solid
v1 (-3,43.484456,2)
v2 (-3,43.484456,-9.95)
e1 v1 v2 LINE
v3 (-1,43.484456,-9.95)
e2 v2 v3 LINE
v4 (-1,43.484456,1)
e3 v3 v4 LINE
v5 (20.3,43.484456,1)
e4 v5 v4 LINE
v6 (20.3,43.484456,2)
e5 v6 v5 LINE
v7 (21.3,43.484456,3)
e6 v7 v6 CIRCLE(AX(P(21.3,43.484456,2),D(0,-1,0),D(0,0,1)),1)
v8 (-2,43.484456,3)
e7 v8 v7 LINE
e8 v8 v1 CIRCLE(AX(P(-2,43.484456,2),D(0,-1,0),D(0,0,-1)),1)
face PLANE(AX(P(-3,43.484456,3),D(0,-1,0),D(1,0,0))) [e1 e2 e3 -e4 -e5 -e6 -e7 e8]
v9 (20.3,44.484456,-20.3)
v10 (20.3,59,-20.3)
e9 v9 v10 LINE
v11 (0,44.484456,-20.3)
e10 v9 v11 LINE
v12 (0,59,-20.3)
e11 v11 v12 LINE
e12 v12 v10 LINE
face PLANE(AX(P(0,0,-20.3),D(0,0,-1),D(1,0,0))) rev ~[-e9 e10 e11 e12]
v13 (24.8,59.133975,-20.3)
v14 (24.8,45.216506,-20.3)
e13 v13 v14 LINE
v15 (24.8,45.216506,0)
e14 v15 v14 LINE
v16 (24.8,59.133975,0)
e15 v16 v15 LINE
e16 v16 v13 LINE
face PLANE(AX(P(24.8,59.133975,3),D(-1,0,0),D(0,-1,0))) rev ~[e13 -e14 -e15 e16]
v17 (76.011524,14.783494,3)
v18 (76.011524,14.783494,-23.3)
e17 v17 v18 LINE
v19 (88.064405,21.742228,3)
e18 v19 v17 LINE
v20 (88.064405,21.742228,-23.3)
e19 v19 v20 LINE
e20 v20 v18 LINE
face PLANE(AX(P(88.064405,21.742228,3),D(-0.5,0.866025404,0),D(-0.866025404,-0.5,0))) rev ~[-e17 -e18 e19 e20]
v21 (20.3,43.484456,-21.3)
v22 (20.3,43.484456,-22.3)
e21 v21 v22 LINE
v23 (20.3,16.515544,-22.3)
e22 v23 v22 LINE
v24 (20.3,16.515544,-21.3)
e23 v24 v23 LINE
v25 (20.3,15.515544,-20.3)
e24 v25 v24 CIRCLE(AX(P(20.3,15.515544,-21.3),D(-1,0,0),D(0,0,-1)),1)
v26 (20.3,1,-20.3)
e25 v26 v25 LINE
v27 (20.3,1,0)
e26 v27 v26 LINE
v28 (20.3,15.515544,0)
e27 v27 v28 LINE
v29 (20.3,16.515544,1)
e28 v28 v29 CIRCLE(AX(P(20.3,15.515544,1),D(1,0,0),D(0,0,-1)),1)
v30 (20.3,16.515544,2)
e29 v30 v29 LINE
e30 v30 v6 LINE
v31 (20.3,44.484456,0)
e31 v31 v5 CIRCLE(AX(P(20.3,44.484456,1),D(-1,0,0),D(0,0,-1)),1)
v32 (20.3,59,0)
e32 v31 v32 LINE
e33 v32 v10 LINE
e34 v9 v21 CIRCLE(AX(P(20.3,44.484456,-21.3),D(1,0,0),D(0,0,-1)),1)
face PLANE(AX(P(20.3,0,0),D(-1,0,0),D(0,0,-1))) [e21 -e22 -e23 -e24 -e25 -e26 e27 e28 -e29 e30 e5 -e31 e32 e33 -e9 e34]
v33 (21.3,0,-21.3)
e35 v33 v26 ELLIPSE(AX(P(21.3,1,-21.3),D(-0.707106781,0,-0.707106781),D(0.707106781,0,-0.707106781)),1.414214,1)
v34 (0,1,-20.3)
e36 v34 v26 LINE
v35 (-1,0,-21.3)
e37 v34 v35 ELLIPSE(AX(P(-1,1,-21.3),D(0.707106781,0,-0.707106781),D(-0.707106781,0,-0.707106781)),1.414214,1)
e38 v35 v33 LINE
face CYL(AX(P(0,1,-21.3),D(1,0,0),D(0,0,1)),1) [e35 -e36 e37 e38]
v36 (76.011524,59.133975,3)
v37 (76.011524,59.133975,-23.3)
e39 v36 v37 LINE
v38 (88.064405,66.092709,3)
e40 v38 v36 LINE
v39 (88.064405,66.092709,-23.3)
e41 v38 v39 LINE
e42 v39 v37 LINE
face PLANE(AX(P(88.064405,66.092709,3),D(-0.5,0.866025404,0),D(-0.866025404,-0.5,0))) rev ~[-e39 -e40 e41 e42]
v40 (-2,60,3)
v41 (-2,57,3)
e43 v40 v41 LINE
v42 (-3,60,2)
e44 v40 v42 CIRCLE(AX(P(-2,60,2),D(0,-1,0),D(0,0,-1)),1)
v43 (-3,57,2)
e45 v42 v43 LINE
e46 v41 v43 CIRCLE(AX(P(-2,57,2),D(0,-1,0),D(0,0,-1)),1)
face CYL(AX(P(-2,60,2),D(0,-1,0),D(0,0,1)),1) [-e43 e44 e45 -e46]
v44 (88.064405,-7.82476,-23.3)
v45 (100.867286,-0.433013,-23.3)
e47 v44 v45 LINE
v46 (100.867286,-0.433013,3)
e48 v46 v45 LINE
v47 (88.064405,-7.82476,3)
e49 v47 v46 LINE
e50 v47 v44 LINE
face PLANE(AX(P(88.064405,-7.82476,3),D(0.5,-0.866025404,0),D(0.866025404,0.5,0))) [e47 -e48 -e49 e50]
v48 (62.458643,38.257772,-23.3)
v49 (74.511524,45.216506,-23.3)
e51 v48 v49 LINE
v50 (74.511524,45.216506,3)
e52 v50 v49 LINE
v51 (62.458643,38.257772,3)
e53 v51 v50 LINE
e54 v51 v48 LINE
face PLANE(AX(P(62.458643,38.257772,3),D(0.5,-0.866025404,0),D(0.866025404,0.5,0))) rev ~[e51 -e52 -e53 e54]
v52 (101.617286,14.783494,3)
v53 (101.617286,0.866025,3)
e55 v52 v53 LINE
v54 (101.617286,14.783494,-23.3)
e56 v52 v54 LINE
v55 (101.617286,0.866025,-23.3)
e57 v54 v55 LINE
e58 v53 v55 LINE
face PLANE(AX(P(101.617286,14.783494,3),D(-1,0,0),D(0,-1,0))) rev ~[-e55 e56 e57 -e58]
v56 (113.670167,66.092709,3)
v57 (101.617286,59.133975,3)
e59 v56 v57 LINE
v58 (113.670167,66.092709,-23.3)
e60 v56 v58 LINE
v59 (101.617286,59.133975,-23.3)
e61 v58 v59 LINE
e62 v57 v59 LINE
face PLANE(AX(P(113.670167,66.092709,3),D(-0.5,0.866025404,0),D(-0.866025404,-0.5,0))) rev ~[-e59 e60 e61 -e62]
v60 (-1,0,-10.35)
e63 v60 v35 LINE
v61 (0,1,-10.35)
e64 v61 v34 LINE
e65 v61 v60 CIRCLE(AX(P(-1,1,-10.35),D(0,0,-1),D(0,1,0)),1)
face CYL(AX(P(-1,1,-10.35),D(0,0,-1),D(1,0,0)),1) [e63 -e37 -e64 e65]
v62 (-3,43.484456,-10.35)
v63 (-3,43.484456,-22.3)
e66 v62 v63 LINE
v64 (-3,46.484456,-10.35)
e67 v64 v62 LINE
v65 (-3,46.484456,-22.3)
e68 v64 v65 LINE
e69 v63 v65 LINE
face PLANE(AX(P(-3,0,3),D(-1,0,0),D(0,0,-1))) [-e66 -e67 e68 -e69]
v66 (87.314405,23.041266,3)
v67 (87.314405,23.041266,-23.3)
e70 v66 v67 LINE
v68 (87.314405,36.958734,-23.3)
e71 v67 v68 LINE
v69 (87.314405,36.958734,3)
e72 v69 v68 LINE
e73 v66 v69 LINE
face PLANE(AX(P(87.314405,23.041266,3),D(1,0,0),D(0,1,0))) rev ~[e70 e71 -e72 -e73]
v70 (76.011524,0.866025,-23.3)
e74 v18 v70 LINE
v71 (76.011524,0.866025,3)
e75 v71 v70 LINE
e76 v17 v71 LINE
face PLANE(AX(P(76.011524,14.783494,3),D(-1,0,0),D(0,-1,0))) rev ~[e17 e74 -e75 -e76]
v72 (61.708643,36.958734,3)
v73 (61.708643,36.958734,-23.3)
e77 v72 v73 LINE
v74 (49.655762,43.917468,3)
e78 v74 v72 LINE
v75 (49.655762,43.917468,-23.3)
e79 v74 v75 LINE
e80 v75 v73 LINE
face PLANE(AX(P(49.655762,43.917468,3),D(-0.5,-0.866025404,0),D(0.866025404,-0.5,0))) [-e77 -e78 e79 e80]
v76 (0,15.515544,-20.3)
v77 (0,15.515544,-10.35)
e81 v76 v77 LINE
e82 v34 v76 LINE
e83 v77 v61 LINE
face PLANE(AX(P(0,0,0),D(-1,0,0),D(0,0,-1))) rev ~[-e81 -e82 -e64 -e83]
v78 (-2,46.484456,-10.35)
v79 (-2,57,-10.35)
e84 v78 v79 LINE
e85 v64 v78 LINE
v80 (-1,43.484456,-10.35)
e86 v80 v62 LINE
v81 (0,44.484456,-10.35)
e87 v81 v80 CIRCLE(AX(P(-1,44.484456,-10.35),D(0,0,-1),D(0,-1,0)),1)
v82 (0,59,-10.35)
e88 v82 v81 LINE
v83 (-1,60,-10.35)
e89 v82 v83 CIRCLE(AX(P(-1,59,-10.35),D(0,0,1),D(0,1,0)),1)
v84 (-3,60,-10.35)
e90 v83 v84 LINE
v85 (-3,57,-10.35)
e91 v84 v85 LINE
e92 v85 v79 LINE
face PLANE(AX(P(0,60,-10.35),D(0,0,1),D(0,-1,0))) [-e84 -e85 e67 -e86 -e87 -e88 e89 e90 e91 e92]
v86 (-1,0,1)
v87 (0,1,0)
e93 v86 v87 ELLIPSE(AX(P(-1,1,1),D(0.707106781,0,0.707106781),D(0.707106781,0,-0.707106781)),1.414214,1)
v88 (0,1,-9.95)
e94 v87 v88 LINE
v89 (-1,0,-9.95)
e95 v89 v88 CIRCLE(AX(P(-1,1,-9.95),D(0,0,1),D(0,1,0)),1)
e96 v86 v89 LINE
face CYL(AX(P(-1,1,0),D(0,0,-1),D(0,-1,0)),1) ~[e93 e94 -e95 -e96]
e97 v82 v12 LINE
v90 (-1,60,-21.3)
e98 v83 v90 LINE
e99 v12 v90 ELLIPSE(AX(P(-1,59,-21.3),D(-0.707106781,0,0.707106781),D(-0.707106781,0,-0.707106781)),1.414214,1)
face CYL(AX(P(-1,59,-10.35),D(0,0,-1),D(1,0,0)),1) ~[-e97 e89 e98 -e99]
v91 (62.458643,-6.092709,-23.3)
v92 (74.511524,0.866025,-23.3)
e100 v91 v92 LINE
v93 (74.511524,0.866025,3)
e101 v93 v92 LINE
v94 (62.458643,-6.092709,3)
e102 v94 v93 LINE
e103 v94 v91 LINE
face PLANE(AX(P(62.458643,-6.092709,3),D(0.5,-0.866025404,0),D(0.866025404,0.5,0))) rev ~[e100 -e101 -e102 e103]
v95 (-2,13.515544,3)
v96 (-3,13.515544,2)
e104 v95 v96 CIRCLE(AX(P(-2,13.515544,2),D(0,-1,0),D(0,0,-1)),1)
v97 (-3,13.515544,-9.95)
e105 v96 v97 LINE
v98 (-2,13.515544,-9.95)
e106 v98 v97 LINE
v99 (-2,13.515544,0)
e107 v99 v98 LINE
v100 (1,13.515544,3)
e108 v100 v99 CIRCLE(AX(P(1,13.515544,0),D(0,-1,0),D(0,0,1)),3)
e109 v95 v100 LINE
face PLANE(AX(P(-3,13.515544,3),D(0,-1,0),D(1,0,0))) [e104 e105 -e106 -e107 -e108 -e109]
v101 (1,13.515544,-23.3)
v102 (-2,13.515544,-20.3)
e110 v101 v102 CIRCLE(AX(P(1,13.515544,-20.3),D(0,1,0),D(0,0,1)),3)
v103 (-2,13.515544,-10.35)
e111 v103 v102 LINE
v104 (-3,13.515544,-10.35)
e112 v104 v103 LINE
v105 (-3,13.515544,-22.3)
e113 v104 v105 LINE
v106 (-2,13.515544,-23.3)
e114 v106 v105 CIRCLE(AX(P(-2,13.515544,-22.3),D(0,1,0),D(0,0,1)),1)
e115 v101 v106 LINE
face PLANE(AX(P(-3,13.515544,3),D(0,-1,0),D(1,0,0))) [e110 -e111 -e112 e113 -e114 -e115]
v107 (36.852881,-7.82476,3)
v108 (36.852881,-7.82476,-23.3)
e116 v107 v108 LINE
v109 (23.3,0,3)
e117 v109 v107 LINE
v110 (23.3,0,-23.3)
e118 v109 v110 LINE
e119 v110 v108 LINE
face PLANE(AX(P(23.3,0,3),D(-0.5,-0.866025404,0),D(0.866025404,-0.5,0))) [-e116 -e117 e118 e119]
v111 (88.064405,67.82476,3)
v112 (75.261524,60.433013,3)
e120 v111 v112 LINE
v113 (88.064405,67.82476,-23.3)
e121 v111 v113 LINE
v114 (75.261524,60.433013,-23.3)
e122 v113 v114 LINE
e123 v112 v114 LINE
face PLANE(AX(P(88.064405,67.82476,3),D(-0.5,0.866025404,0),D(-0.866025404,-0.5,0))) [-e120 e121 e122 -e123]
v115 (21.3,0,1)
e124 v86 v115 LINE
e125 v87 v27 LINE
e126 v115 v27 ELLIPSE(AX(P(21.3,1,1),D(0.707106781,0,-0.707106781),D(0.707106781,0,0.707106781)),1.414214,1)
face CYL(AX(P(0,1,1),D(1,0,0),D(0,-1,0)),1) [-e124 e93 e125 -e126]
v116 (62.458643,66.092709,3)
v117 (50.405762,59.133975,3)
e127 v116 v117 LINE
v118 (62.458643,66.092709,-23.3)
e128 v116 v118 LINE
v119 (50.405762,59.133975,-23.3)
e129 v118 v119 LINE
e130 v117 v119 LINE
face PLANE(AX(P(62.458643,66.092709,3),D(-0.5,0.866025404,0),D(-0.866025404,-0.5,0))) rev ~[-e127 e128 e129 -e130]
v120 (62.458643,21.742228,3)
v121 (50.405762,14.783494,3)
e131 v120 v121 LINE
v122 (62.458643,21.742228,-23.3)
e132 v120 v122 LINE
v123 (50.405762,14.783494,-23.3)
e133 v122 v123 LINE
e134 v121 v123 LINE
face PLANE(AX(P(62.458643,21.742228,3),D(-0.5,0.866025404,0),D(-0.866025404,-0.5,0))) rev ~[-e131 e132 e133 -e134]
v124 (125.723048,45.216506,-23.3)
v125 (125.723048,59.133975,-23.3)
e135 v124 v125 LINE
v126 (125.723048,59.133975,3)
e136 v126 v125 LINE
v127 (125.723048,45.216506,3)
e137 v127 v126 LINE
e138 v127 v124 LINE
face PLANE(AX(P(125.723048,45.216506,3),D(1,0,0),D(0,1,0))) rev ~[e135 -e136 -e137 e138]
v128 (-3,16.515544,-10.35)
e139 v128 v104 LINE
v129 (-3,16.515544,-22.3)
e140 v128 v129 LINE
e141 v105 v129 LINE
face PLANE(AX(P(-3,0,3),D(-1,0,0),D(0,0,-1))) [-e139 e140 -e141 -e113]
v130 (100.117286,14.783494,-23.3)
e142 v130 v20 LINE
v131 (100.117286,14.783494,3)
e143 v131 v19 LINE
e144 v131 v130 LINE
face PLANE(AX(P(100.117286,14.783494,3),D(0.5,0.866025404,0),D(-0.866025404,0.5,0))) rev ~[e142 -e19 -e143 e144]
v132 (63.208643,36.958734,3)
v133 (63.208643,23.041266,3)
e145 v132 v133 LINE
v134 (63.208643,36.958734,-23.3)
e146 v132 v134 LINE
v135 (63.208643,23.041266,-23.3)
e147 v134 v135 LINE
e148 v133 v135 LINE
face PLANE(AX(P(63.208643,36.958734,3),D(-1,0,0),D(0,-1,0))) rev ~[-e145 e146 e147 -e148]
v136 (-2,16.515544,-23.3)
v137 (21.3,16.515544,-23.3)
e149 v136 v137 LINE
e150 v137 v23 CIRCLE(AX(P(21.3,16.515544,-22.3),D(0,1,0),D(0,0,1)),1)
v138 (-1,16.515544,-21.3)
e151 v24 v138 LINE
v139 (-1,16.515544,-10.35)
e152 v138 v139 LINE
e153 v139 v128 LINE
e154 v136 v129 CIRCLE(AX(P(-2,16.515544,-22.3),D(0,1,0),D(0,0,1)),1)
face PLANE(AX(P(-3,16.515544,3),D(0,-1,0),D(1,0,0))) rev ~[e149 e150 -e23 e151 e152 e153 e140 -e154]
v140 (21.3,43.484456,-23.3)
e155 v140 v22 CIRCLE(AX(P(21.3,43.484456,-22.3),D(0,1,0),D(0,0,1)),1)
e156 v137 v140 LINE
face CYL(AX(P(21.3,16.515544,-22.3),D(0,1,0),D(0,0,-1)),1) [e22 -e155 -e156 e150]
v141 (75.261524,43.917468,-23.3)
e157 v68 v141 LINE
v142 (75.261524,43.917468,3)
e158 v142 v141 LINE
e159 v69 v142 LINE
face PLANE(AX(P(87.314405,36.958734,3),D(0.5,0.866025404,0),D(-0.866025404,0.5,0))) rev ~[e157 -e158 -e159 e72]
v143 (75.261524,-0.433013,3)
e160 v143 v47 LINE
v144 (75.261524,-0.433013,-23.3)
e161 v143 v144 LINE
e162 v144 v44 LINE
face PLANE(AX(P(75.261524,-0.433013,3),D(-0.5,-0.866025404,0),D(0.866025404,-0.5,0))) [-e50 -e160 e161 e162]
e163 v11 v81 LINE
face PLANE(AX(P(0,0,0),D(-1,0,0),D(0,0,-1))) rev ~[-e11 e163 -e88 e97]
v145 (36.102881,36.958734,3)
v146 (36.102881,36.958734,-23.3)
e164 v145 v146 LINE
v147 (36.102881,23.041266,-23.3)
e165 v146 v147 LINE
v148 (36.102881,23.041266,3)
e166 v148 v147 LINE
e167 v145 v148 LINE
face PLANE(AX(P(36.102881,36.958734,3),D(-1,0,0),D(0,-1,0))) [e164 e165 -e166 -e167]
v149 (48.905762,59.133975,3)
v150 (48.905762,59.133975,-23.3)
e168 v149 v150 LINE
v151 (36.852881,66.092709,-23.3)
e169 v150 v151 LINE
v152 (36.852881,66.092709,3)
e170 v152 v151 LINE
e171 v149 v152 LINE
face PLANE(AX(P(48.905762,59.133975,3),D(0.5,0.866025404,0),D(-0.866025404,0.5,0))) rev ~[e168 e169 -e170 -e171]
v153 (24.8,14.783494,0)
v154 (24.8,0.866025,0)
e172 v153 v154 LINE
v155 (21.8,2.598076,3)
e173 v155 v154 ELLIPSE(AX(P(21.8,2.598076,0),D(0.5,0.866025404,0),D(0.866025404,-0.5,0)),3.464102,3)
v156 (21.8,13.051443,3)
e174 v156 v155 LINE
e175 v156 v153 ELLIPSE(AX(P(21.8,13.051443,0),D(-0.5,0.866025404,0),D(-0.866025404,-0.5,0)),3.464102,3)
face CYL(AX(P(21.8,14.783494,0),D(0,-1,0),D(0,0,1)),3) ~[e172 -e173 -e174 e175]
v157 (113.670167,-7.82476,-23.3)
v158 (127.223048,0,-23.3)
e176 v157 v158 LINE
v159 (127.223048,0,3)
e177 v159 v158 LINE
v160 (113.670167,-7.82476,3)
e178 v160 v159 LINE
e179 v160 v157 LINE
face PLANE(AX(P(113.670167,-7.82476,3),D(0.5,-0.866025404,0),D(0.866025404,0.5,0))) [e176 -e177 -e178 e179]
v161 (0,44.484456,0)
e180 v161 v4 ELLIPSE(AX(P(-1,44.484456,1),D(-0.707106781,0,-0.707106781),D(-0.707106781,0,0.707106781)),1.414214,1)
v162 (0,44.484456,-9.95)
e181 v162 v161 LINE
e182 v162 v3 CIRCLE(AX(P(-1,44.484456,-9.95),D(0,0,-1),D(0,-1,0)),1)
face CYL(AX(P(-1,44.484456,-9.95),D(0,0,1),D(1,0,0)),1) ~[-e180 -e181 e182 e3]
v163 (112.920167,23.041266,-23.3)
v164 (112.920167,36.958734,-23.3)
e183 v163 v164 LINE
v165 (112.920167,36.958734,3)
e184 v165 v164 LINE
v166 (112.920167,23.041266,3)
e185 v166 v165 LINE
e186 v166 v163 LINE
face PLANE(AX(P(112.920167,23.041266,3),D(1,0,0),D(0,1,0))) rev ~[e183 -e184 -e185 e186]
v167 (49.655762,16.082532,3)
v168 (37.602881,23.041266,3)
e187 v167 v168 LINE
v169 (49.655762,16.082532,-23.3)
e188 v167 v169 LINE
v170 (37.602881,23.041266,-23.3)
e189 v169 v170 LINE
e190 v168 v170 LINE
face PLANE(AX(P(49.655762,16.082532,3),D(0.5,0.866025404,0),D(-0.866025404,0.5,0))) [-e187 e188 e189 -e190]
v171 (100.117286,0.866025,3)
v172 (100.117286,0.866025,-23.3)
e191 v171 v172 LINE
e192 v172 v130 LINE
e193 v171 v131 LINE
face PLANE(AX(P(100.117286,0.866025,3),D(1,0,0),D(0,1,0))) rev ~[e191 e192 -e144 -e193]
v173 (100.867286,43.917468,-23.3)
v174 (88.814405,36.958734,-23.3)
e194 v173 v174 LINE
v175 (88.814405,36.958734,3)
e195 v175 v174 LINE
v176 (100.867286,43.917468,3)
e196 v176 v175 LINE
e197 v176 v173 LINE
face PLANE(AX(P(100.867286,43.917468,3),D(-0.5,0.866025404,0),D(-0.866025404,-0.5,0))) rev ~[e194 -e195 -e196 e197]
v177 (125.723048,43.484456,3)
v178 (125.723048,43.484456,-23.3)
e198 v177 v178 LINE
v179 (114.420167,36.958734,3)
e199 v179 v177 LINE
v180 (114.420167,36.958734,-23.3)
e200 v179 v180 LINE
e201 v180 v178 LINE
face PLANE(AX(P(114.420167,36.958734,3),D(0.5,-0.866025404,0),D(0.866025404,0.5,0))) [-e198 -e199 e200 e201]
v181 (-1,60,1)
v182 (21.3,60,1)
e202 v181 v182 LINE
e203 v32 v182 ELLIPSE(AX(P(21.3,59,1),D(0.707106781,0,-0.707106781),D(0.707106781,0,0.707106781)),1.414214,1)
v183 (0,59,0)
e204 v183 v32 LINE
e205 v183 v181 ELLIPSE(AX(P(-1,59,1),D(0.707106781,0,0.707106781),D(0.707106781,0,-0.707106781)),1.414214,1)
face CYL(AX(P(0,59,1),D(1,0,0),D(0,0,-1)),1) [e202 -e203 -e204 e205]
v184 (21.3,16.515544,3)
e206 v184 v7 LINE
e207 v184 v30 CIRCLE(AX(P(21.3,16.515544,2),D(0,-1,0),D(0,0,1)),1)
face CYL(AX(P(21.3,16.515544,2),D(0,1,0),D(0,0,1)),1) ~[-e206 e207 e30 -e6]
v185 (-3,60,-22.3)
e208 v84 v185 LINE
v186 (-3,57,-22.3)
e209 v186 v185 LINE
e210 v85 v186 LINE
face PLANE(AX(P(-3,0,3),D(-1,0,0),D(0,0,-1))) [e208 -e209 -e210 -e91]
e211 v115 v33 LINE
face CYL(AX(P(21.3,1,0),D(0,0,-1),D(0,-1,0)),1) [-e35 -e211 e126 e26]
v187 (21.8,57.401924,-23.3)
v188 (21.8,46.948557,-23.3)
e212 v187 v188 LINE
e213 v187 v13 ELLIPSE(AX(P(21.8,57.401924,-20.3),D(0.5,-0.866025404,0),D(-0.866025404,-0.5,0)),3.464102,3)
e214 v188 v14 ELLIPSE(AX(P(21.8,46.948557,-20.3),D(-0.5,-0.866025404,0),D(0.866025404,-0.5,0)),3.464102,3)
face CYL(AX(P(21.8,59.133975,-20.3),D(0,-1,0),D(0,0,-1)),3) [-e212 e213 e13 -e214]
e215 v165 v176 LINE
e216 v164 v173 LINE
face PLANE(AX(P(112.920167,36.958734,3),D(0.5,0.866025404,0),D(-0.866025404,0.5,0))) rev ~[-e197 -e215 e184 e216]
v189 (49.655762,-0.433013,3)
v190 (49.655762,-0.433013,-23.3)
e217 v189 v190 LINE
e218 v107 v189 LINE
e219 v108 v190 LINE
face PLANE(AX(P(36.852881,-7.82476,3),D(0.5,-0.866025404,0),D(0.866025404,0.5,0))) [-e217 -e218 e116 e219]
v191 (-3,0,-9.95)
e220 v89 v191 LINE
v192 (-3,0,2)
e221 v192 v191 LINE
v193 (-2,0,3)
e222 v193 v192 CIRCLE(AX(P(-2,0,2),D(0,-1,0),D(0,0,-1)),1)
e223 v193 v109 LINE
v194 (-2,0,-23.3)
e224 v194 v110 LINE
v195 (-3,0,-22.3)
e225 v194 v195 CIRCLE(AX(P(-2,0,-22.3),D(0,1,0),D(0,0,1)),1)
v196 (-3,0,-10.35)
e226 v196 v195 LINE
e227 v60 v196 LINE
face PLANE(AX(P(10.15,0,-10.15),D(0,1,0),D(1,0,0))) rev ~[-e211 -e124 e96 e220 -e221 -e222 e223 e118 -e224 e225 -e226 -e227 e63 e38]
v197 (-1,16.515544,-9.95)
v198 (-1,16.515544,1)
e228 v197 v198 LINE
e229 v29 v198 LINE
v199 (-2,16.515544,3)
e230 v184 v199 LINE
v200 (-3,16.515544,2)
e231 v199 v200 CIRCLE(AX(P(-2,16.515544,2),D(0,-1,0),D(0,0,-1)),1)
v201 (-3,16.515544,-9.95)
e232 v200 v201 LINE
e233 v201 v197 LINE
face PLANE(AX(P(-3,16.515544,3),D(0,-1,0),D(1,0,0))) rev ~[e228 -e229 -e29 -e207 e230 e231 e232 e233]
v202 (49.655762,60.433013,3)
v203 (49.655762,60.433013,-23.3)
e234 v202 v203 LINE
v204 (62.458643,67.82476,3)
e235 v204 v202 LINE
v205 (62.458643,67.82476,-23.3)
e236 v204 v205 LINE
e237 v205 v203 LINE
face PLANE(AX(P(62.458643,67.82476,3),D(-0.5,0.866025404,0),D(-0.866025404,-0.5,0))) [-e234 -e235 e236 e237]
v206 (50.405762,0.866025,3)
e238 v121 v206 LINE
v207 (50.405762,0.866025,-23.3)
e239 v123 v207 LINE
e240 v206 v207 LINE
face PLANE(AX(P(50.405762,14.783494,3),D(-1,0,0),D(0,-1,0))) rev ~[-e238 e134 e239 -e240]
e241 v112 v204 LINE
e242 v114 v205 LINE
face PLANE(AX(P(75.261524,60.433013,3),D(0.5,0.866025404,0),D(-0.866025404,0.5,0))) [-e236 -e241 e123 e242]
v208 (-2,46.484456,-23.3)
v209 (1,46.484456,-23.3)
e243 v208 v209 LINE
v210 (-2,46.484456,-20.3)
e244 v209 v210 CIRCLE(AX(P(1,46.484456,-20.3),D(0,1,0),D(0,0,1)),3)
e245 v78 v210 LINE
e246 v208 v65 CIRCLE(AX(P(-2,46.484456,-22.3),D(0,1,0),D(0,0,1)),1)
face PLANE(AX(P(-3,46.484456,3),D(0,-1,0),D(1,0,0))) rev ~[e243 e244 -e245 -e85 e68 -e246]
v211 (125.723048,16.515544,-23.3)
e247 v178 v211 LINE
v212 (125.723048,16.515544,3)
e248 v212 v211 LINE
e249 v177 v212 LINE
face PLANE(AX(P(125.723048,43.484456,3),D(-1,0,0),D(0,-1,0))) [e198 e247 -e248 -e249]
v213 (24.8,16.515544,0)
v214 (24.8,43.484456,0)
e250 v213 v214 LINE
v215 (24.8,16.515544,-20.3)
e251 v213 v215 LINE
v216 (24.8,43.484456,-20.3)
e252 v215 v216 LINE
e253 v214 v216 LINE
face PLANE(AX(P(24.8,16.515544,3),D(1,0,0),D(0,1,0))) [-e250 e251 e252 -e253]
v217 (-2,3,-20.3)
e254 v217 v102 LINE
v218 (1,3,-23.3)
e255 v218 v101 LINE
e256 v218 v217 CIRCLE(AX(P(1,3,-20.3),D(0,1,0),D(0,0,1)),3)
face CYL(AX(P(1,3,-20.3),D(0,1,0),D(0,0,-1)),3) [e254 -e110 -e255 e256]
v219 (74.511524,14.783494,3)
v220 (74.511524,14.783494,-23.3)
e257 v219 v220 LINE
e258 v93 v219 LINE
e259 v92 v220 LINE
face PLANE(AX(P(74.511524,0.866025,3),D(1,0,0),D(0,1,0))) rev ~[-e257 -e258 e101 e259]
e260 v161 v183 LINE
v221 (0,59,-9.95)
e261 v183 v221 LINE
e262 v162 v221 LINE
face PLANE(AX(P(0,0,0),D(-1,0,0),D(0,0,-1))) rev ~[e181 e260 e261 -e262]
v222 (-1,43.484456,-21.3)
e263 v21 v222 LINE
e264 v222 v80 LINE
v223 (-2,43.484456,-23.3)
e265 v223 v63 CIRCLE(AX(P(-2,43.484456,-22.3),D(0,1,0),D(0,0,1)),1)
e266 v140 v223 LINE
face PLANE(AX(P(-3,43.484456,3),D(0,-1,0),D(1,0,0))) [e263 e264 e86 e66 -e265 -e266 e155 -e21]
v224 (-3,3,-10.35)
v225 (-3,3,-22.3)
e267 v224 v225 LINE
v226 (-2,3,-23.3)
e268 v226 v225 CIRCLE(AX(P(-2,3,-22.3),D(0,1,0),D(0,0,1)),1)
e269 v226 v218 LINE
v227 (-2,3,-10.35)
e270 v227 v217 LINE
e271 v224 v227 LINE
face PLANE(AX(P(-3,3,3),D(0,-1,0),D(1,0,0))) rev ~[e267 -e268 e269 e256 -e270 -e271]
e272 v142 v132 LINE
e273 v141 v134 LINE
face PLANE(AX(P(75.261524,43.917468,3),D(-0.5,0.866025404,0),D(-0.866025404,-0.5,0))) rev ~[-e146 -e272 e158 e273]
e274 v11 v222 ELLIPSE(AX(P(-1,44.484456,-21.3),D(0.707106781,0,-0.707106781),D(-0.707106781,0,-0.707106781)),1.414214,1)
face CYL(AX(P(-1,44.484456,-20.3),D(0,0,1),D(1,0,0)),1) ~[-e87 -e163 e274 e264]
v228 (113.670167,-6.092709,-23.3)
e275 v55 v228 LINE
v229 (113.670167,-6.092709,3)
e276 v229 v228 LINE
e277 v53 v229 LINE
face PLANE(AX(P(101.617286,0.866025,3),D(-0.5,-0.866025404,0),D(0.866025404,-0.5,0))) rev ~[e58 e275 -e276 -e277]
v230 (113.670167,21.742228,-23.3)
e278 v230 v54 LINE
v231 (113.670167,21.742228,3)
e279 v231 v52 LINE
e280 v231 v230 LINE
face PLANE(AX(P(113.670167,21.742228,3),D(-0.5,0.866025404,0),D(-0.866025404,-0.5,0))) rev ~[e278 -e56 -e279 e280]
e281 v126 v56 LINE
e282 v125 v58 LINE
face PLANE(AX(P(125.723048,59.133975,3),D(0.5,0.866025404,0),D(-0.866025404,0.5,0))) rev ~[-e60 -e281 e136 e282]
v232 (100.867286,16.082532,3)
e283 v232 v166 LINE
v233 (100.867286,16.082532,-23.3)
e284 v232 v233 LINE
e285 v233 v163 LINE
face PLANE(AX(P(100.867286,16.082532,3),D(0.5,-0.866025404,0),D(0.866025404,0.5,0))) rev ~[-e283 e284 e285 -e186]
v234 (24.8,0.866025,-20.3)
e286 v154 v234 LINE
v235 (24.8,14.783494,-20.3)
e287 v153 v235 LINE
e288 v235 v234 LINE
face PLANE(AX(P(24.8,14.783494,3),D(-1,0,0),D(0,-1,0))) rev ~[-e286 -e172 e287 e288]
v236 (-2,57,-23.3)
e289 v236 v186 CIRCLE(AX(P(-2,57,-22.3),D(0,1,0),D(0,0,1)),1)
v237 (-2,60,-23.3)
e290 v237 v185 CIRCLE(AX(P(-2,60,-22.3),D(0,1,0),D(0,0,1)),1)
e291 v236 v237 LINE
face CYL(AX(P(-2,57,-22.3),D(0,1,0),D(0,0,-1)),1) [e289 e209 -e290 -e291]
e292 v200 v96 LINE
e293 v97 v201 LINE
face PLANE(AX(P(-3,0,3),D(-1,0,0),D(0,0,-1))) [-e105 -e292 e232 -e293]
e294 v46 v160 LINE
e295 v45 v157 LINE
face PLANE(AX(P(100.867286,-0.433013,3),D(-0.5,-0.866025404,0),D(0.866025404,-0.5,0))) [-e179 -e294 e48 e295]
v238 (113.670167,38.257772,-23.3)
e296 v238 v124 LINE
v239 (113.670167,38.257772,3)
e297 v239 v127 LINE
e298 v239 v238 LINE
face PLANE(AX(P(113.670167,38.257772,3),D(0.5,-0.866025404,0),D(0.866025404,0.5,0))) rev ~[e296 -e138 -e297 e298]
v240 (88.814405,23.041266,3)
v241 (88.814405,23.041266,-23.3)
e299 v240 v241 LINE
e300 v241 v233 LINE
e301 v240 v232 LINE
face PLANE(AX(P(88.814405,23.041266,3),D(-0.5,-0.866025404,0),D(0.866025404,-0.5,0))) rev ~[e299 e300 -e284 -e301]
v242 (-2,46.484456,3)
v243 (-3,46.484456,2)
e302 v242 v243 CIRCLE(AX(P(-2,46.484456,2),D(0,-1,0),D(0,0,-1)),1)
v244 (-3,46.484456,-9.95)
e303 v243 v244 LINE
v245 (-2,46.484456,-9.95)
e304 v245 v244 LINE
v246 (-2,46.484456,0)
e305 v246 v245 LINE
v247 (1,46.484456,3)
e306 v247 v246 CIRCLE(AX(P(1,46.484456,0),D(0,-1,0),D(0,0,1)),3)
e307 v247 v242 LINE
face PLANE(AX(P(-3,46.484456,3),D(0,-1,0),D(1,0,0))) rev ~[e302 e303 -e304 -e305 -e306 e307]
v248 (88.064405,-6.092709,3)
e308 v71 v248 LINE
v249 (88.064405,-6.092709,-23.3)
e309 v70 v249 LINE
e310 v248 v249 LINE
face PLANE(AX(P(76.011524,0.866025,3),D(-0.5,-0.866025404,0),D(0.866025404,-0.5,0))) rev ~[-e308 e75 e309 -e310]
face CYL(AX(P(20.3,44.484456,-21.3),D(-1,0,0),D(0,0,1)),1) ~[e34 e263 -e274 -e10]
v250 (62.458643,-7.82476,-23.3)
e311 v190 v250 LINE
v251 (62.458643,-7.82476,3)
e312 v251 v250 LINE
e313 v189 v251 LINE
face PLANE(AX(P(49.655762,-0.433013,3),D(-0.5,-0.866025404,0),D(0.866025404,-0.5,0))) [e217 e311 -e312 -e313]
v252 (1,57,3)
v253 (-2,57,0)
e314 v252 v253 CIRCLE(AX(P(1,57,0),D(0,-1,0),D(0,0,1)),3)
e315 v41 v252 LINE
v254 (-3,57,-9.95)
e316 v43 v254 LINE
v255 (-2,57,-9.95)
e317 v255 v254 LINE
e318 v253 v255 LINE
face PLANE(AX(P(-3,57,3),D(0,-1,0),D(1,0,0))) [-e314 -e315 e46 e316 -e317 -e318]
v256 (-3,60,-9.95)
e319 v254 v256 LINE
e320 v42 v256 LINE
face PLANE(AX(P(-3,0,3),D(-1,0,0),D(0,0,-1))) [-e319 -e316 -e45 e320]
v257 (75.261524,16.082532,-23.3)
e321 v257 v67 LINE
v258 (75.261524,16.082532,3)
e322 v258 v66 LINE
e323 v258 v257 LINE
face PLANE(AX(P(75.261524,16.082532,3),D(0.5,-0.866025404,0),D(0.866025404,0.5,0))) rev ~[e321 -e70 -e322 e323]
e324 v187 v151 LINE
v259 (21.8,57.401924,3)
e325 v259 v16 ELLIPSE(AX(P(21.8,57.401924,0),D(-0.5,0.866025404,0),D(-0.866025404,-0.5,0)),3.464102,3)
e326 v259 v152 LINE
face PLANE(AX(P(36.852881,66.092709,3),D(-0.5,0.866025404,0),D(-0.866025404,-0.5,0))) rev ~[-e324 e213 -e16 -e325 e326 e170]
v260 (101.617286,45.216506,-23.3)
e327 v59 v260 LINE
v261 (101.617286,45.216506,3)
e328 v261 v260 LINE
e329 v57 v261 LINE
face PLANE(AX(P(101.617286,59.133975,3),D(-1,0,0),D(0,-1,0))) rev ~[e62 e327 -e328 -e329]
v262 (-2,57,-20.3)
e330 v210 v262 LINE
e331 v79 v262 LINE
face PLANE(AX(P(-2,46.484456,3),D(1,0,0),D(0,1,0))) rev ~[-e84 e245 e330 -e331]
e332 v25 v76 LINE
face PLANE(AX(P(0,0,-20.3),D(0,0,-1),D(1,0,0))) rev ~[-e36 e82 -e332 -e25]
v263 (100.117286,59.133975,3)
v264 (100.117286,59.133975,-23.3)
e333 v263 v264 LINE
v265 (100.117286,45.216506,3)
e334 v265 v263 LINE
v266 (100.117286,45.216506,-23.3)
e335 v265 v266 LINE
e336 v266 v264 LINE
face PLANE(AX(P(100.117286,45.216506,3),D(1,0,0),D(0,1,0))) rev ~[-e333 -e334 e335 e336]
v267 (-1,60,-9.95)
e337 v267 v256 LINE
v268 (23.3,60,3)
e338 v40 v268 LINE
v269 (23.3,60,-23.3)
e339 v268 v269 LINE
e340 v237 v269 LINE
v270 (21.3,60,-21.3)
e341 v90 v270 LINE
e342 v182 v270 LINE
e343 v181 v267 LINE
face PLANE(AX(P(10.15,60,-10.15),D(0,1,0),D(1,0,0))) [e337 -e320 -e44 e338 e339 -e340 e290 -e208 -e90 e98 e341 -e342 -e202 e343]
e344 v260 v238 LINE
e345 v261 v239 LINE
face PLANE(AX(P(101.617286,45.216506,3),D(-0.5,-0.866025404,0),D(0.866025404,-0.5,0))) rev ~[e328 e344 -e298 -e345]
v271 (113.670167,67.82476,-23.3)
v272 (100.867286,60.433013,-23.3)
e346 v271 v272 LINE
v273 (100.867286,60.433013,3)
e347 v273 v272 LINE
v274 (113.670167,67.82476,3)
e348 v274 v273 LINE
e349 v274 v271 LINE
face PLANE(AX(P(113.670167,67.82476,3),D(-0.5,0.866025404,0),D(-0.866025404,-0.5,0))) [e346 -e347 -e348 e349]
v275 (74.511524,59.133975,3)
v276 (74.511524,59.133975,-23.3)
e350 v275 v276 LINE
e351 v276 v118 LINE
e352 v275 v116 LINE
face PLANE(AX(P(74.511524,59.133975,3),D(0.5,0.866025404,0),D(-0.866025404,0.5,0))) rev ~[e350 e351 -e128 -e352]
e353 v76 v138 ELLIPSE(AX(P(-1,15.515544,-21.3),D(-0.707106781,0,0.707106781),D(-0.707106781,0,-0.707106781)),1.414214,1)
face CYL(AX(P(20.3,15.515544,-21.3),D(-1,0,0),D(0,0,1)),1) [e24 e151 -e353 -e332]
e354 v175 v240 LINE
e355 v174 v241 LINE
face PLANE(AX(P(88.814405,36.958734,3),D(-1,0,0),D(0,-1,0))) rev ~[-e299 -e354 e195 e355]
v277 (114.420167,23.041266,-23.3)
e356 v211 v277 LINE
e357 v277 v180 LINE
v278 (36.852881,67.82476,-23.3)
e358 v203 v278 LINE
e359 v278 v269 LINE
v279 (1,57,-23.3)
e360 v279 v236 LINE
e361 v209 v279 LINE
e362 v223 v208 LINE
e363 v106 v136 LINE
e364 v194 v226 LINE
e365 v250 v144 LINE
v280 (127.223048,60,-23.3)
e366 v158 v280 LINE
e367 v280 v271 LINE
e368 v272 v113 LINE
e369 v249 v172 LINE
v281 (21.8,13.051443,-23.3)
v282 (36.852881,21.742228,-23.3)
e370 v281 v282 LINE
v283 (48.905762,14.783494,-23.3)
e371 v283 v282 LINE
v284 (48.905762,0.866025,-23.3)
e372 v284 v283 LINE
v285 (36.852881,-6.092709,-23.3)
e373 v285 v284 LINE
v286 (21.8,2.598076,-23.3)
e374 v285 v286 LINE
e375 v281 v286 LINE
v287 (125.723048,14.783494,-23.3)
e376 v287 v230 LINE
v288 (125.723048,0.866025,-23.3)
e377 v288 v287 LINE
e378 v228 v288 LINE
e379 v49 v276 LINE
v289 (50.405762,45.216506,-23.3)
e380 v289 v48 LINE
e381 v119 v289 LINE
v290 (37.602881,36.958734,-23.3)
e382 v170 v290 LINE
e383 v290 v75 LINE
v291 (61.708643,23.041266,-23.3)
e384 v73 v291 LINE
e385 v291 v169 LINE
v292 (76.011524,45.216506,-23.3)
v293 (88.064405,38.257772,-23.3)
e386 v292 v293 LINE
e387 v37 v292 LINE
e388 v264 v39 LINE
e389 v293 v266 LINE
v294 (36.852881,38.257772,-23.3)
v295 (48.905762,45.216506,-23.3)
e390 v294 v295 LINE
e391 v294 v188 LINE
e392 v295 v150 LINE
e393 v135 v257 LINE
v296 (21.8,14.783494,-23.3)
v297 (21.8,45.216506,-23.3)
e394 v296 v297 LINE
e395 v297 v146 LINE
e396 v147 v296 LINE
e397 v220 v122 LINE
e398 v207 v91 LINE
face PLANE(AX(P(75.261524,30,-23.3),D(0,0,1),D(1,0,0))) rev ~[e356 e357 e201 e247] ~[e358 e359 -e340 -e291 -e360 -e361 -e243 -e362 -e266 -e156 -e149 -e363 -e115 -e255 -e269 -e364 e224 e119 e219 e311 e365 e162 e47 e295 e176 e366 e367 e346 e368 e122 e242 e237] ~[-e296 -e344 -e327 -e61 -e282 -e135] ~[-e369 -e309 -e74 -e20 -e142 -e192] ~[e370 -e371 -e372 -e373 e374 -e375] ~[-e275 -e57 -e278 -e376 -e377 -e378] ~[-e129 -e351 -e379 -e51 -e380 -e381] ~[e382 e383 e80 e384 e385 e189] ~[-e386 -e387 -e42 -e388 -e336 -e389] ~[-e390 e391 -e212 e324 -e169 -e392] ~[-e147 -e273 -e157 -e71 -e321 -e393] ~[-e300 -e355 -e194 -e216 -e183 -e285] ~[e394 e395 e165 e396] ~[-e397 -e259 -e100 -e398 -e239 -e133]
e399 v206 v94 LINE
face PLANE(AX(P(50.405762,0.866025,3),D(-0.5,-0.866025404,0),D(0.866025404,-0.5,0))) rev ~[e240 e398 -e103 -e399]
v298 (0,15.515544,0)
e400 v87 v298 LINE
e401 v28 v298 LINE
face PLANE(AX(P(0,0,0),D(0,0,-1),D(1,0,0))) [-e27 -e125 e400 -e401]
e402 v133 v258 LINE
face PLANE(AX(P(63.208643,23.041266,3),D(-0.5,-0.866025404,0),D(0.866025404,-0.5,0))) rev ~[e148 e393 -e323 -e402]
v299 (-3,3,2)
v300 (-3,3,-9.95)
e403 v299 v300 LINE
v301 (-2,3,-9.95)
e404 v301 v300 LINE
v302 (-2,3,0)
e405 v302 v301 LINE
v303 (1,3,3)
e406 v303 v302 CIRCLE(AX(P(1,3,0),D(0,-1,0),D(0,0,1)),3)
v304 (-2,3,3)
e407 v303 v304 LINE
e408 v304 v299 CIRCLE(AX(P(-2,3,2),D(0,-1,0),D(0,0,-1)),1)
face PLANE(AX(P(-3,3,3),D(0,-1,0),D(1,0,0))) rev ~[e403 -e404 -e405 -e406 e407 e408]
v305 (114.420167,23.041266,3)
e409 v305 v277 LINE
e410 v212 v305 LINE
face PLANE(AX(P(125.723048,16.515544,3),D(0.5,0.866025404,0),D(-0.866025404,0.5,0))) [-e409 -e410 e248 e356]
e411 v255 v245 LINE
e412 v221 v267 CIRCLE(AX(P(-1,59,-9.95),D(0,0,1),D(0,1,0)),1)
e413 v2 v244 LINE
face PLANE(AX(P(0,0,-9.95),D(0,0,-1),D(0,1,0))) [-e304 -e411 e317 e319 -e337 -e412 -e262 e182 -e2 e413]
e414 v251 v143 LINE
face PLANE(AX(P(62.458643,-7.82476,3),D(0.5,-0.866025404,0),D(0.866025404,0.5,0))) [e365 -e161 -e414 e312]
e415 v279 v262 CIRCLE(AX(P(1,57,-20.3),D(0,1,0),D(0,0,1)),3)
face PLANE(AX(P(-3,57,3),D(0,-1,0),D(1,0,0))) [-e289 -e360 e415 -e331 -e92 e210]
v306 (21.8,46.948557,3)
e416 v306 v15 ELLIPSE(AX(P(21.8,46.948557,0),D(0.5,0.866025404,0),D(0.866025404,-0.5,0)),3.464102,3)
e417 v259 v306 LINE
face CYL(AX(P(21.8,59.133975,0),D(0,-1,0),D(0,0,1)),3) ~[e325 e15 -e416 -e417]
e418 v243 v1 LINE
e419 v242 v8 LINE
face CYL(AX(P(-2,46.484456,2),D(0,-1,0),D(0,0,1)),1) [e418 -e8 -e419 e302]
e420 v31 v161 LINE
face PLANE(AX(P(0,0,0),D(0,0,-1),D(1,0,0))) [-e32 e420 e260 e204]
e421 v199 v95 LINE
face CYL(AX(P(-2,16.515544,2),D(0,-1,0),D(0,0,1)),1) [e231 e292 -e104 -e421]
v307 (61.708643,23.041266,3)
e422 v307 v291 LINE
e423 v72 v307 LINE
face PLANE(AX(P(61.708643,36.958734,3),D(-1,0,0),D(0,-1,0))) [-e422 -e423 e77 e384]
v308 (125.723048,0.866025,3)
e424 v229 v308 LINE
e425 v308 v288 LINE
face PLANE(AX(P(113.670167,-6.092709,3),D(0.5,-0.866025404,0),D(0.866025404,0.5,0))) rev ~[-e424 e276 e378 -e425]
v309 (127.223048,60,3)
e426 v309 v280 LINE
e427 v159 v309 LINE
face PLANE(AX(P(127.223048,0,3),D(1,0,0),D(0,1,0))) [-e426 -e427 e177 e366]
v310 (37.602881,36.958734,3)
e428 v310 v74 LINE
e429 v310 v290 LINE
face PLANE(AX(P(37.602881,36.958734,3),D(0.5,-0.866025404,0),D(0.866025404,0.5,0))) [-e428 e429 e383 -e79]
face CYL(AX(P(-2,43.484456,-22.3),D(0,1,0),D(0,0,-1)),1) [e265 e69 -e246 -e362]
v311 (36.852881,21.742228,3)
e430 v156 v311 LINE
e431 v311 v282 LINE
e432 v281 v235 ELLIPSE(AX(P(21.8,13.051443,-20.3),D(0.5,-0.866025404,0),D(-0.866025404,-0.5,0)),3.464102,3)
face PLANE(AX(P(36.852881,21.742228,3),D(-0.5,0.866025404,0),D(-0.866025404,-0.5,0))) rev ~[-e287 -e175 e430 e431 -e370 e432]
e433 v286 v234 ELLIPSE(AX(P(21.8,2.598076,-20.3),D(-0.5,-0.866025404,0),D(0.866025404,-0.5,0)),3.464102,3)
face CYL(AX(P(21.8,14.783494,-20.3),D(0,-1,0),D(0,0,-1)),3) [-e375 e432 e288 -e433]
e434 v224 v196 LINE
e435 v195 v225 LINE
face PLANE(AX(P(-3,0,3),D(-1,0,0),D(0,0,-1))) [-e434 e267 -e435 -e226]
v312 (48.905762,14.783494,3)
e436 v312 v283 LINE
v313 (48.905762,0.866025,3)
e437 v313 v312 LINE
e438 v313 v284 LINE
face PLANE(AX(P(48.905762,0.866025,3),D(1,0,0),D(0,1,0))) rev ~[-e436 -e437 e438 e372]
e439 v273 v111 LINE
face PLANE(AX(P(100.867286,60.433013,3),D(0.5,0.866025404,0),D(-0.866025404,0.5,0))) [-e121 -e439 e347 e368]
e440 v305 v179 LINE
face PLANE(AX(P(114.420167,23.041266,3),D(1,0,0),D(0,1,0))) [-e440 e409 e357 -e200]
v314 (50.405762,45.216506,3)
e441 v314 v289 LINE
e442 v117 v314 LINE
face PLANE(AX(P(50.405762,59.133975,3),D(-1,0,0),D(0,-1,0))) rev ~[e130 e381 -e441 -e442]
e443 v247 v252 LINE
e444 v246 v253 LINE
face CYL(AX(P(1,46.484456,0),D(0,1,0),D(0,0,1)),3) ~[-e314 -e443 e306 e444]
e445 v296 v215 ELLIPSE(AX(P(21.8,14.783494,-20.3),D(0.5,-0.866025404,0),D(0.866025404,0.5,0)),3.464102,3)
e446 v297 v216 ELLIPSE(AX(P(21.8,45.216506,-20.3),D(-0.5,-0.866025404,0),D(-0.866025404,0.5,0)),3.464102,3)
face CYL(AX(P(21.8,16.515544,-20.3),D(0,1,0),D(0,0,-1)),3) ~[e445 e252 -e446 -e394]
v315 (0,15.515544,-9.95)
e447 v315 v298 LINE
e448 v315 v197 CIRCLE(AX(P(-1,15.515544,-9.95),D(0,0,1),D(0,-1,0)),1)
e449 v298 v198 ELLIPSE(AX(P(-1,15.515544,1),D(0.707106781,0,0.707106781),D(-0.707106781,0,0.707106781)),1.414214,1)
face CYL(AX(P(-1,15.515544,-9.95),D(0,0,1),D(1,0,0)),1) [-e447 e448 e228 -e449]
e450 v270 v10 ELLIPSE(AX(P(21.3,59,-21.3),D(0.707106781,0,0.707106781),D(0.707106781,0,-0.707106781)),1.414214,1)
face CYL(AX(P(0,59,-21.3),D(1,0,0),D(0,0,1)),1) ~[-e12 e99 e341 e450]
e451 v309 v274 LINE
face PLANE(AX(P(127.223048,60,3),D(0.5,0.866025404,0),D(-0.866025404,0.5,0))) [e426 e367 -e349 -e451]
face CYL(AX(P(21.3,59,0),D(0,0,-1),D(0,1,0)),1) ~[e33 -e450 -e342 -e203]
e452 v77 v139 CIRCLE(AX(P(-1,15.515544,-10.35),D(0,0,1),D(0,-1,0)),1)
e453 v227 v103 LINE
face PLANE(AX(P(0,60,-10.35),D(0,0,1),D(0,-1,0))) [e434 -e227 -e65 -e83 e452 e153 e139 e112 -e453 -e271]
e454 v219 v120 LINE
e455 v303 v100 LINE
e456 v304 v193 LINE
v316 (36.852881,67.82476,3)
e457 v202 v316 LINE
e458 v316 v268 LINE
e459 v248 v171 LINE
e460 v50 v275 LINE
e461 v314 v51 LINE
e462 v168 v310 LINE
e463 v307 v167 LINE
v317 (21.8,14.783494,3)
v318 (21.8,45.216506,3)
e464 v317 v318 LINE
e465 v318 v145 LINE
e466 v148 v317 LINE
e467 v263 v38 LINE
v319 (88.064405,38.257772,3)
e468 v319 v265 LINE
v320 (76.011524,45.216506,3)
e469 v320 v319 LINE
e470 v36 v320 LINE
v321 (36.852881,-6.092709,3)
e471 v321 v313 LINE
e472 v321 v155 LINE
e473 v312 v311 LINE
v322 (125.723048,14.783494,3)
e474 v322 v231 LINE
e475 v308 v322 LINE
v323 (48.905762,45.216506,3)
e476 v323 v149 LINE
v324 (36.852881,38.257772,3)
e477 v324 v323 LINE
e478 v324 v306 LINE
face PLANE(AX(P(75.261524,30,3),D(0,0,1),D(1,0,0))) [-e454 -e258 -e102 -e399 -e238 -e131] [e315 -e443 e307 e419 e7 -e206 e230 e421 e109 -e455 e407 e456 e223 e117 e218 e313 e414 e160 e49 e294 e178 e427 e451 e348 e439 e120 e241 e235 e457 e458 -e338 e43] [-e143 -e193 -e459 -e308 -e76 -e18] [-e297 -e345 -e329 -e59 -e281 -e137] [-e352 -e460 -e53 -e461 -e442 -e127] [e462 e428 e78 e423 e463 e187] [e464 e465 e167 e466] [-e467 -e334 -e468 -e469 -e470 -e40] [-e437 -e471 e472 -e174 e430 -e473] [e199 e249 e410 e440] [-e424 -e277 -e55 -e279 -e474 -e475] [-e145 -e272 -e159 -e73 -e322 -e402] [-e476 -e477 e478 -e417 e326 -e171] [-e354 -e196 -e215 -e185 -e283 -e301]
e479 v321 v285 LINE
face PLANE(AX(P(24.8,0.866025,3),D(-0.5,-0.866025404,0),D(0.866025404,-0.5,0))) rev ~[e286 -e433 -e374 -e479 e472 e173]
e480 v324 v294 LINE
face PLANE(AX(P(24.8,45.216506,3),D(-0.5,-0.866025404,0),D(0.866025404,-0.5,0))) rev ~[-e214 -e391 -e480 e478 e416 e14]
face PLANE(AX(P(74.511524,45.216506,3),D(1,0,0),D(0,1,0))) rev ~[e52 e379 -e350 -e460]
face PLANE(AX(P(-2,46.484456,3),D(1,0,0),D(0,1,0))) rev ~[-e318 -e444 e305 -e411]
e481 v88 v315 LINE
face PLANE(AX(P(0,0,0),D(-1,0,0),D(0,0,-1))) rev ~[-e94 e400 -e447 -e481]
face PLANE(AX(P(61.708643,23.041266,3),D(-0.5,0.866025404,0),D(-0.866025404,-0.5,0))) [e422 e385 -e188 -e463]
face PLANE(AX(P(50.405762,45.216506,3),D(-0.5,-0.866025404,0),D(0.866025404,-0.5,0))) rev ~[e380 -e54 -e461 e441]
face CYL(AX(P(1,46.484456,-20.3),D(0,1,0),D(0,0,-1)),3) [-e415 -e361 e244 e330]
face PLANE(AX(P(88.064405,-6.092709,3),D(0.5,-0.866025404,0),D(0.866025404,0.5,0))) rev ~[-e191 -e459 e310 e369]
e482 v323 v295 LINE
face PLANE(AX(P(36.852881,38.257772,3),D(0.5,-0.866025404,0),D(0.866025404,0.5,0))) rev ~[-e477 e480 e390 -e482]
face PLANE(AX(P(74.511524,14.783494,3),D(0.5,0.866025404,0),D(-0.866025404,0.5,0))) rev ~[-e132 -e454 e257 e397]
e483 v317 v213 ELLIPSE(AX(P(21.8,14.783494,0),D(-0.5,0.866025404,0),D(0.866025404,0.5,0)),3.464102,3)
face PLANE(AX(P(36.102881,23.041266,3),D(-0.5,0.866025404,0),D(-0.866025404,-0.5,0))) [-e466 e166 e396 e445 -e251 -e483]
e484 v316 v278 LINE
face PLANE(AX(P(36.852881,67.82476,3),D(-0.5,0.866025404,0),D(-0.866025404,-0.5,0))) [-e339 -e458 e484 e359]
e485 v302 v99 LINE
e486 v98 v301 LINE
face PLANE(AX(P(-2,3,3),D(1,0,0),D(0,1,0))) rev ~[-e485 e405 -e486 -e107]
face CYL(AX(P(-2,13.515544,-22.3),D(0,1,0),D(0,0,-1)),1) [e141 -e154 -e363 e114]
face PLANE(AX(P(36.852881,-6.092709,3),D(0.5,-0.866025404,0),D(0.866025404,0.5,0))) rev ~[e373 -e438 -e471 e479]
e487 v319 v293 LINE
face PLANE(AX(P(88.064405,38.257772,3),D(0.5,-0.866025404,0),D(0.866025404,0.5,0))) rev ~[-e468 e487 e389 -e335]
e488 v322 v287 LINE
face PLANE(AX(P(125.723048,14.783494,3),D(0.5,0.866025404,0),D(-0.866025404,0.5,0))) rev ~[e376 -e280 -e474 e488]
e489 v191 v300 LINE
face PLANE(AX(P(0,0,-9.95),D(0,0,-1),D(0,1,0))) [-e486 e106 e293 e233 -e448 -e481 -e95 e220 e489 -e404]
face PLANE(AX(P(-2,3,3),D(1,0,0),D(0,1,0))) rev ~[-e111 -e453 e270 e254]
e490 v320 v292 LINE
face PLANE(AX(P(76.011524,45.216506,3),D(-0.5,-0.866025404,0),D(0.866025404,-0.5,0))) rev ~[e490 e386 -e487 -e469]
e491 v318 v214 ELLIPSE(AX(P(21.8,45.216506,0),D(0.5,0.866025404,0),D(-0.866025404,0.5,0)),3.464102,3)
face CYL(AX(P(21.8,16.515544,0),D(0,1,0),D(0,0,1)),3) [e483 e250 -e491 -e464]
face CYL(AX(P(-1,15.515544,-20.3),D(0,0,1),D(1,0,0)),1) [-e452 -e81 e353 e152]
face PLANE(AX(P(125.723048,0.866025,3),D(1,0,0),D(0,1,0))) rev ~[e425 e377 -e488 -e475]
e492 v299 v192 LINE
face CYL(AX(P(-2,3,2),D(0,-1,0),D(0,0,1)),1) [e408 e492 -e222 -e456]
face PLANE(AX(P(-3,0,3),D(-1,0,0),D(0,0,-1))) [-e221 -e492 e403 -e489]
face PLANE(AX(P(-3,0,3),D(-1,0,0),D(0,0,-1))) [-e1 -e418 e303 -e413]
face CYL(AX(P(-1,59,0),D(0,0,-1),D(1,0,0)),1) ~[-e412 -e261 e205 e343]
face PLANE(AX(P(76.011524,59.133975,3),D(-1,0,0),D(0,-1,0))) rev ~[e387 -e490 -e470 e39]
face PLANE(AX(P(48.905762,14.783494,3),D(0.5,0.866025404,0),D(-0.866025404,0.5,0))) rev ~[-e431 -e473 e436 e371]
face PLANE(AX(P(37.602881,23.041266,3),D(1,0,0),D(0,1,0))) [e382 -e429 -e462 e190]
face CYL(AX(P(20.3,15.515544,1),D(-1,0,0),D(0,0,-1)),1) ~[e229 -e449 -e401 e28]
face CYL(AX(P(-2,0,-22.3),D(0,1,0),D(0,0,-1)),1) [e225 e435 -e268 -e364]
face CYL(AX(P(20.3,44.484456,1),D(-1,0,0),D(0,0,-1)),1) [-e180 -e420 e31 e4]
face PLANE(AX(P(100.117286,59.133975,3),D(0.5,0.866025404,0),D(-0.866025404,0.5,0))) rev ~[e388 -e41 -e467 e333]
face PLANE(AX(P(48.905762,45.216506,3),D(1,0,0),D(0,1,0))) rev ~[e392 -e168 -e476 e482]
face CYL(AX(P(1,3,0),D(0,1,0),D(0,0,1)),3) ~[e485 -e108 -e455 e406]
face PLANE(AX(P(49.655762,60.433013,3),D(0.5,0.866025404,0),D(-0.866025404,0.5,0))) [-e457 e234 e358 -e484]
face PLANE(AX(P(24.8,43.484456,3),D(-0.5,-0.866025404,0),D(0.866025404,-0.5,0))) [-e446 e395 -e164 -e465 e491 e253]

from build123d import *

# Parameters (mm, degrees)
SKETCH1_W                  = 26.3
SKETCH1_H                  = 26.3
SKETCH1_W_2                = 20.3
SKETCH1_H_2                = 20.3
TUBE_EXTRUDE_DEPTH         = 60
HEX_EXTRUDE_DEPTH          = 26.3
SKETCH3_W                  = 23.3
SKETCH3_H                  = 26.968911086
TUBE_CENTER_CUT_DEPTH      = 1
TUBE_CENTER_CUT_DEPTH_BACK = 27.3
CUT_EXTRUDE1_START         = -3
CUT_EXTRUDE1_DEPTH         = 3
SKETCH5_W                  = 1
SKETCH5_H                  = 10.515544457
CUT_EXTRUDE2_DEPTH         = 27.3
FILLET1_R                  = 3
FILLET2_R                  = 1


with BuildPart() as part:
    # Sketch1 → Tube Extrude (new body)
    with BuildSketch(Plane(origin=(0, 0, 0), x_dir=(1, 0, 0), z_dir=(0, 1, 0))):
        with Locations((10.15, 10.15)):
            Rectangle(SKETCH1_W, SKETCH1_H)
        with Locations((10.15, 10.15)):
            Rectangle(SKETCH1_W_2, SKETCH1_H_2, mode=Mode.SUBTRACT)
    extrude(amount=TUBE_EXTRUDE_DEPTH)

    # Sketch2 → Hex Extrude (add)
    with BuildSketch(Plane.XY.offset(3)):
        Polygon((23.3, 15.649519053), (23.3, 0), (36.852881057, -7.824759526), (49.655762114, -0.433012702), (62.45864317, -7.824759526), (75.261524227, -0.433012702), (88.064405284, -7.824759526), (100.867286341, -0.433012702), (113.670167397, -7.824759526), (127.223048454, 0), (127.223048454, 15.649519053), (127.223048454, 44.350480947), (127.223048454, 60), (113.670167397, 67.824759526), (100.867286341, 60.433012702), (88.064405284, 67.824759526), (75.261524227, 60.433012702), (62.45864317, 67.824759526), (49.655762114, 60.433012702), (36.852881057, 67.824759526), (23.3, 60), (23.3, 44.350480947), align=None)
        Polygon((49.655762114, 16.082531755), (37.602881057, 23.041265877), (37.602881057, 36.958734123), (49.655762114, 43.917468245), (61.70864317, 36.958734123), (61.70864317, 23.041265877), align=None, mode=Mode.SUBTRACT)
        Polygon((36.102881057, 23.041265877), (24.8, 16.515544457), (24.8, 43.484455543), (36.102881057, 36.958734123), align=None, mode=Mode.SUBTRACT)
        Polygon((24.8, 0.866025404), (36.852881057, -6.092708719), (48.905762114, 0.866025404), (48.905762114, 14.783493649), (36.852881057, 21.742227772), (24.8, 14.783493649), align=None, mode=Mode.SUBTRACT)
        Polygon((50.405762114, 0.866025404), (62.45864317, -6.092708719), (74.511524227, 0.866025404), (74.511524227, 14.783493649), (62.45864317, 21.742227772), (50.405762114, 14.783493649), align=None, mode=Mode.SUBTRACT)
        Polygon((76.011524227, 0.866025404), (88.064405284, -6.092708719), (100.117286341, 0.866025404), (100.117286341, 14.783493649), (88.064405284, 21.742227772), (76.011524227, 14.783493649), align=None, mode=Mode.SUBTRACT)
        Polygon((125.723048454, 16.515544457), (114.420167397, 23.041265877), (114.420167397, 36.958734123), (125.723048454, 43.484455543), align=None, mode=Mode.SUBTRACT)
        Polygon((101.617286341, 0.866025404), (113.670167397, -6.092708719), (125.723048454, 0.866025404), (125.723048454, 14.783493649), (113.670167397, 21.742227772), (101.617286341, 14.783493649), align=None, mode=Mode.SUBTRACT)
        Polygon((24.8, 45.216506351), (36.852881057, 38.257772228), (48.905762114, 45.216506351), (48.905762114, 59.133974596), (36.852881057, 66.092708719), (24.8, 59.133974596), align=None, mode=Mode.SUBTRACT)
        Polygon((50.405762114, 45.216506351), (62.45864317, 38.257772228), (74.511524227, 45.216506351), (74.511524227, 59.133974596), (62.45864317, 66.092708719), (50.405762114, 59.133974596), align=None, mode=Mode.SUBTRACT)
        Polygon((76.011524227, 45.216506351), (88.064405284, 38.257772228), (100.117286341, 45.216506351), (100.117286341, 59.133974596), (88.064405284, 66.092708719), (76.011524227, 59.133974596), align=None, mode=Mode.SUBTRACT)
        Polygon((101.617286341, 45.216506351), (113.670167397, 38.257772228), (125.723048454, 45.216506351), (125.723048454, 59.133974596), (113.670167397, 66.092708719), (101.617286341, 59.133974596), align=None, mode=Mode.SUBTRACT)
        Polygon((75.261524227, 16.082531755), (87.314405284, 23.041265877), (87.314405284, 36.958734123), (75.261524227, 43.917468245), (63.20864317, 36.958734123), (63.20864317, 23.041265877), align=None, mode=Mode.SUBTRACT)
        Polygon((100.867286341, 16.082531755), (112.920167397, 23.041265877), (112.920167397, 36.958734123), (100.867286341, 43.917468245), (88.814405284, 36.958734123), (88.814405284, 23.041265877), align=None, mode=Mode.SUBTRACT)
    extrude(amount=-HEX_EXTRUDE_DEPTH)

    # Sketch3 → Tube Center Cut (cut, two sides)
    with BuildSketch(Plane.XY.offset(3)) as tube_center_cut_sk:
        with Locations((8.65, 30)):
            Rectangle(SKETCH3_W, SKETCH3_H)
    extrude(amount=TUBE_CENTER_CUT_DEPTH, mode=Mode.SUBTRACT)
    extrude(tube_center_cut_sk.sketch, amount=-TUBE_CENTER_CUT_DEPTH_BACK, mode=Mode.SUBTRACT)

    # Sketch4 → Cut-Extrude1 (cut)
    with BuildSketch(Plane.ZY.offset(3).offset(CUT_EXTRUDE1_START)):
        Polygon((-10.15, 60), (-10.35, 60), (-10.35, 0), (-10.15, 0), (-9.95, 0), (-9.95, 60), align=None)
    extrude(amount=CUT_EXTRUDE1_DEPTH, mode=Mode.SUBTRACT)

    # Sketch5 → Cut-Extrude2 (cut, through all)
    with BuildSketch(Plane.XY.offset(3)):
        with Locations((-2.5, 51.742227771)):
            Rectangle(SKETCH5_W, SKETCH5_H)
        with Locations((-2.5, 8.257772229)):
            Rectangle(SKETCH5_W, SKETCH5_H)
    extrude(amount=-CUT_EXTRUDE2_DEPTH, mode=Mode.SUBTRACT)

    # Fillet1
    fillet1_edges = [part.edges().sort_by_distance(p)[0] for p in [
        (-2, 51.742227772, -23.3),
        (-2, 51.742227772, 3),
        (-2, 8.257772228, -23.3),
        (-2, 8.257772228, 3),
        (24.8, 52.175240474, -23.3),
        (24.8, 52.175240474, 3),
        (24.8, 7.824759526, -23.3),
        (24.8, 7.824759526, 3),
        (24.8, 30, 3),
        (24.8, 30, -23.3),
    ]]
    fillet(fillet1_edges, radius=FILLET1_R)

    # Fillet2
    fillet2_edges = [part.edges().sort_by_distance(p)[0] for p in [
        (0, 0, -15.325),
        (10.15, 0, 0),
        (20.3, 0, -10.15),
        (10.15, 0, -20.3),
        (0, 60, -15.325),
        (10.15, 60, 0),
        (20.3, 60, -10.15),
        (10.15, 60, -20.3),
        (10.15, 43.484455543, -20.3),
        (10.15, 16.515544457, -20.3),
        (-3, 15.015544457, -23.3),
        (-3, 15.015544457, 3),
        (20.3, 30, 3),
        (10.15, 16.515544457, 0),
        (0, 16.515544457, -4.975),
        (0, 43.484455543, -15.325),
        (10.15, 43.484455543, 0),
        (20.3, 30, -23.3),
        (0, 43.484455543, -4.975),
        (0, 16.515544457, -15.325),
        (0, 60, -4.975),
        (0, 0, -4.975),
        (-3, 1.5, -23.3),
        (-3, 44.984455543, -23.3),
        (-3, 1.5, 3),
        (-3, 44.984455543, 3),
        (-3, 58.5, -23.3),
        (-3, 58.5, 3),
    ]]
    fillet(fillet2_edges, radius=FILLET2_R)


solid = part.part
